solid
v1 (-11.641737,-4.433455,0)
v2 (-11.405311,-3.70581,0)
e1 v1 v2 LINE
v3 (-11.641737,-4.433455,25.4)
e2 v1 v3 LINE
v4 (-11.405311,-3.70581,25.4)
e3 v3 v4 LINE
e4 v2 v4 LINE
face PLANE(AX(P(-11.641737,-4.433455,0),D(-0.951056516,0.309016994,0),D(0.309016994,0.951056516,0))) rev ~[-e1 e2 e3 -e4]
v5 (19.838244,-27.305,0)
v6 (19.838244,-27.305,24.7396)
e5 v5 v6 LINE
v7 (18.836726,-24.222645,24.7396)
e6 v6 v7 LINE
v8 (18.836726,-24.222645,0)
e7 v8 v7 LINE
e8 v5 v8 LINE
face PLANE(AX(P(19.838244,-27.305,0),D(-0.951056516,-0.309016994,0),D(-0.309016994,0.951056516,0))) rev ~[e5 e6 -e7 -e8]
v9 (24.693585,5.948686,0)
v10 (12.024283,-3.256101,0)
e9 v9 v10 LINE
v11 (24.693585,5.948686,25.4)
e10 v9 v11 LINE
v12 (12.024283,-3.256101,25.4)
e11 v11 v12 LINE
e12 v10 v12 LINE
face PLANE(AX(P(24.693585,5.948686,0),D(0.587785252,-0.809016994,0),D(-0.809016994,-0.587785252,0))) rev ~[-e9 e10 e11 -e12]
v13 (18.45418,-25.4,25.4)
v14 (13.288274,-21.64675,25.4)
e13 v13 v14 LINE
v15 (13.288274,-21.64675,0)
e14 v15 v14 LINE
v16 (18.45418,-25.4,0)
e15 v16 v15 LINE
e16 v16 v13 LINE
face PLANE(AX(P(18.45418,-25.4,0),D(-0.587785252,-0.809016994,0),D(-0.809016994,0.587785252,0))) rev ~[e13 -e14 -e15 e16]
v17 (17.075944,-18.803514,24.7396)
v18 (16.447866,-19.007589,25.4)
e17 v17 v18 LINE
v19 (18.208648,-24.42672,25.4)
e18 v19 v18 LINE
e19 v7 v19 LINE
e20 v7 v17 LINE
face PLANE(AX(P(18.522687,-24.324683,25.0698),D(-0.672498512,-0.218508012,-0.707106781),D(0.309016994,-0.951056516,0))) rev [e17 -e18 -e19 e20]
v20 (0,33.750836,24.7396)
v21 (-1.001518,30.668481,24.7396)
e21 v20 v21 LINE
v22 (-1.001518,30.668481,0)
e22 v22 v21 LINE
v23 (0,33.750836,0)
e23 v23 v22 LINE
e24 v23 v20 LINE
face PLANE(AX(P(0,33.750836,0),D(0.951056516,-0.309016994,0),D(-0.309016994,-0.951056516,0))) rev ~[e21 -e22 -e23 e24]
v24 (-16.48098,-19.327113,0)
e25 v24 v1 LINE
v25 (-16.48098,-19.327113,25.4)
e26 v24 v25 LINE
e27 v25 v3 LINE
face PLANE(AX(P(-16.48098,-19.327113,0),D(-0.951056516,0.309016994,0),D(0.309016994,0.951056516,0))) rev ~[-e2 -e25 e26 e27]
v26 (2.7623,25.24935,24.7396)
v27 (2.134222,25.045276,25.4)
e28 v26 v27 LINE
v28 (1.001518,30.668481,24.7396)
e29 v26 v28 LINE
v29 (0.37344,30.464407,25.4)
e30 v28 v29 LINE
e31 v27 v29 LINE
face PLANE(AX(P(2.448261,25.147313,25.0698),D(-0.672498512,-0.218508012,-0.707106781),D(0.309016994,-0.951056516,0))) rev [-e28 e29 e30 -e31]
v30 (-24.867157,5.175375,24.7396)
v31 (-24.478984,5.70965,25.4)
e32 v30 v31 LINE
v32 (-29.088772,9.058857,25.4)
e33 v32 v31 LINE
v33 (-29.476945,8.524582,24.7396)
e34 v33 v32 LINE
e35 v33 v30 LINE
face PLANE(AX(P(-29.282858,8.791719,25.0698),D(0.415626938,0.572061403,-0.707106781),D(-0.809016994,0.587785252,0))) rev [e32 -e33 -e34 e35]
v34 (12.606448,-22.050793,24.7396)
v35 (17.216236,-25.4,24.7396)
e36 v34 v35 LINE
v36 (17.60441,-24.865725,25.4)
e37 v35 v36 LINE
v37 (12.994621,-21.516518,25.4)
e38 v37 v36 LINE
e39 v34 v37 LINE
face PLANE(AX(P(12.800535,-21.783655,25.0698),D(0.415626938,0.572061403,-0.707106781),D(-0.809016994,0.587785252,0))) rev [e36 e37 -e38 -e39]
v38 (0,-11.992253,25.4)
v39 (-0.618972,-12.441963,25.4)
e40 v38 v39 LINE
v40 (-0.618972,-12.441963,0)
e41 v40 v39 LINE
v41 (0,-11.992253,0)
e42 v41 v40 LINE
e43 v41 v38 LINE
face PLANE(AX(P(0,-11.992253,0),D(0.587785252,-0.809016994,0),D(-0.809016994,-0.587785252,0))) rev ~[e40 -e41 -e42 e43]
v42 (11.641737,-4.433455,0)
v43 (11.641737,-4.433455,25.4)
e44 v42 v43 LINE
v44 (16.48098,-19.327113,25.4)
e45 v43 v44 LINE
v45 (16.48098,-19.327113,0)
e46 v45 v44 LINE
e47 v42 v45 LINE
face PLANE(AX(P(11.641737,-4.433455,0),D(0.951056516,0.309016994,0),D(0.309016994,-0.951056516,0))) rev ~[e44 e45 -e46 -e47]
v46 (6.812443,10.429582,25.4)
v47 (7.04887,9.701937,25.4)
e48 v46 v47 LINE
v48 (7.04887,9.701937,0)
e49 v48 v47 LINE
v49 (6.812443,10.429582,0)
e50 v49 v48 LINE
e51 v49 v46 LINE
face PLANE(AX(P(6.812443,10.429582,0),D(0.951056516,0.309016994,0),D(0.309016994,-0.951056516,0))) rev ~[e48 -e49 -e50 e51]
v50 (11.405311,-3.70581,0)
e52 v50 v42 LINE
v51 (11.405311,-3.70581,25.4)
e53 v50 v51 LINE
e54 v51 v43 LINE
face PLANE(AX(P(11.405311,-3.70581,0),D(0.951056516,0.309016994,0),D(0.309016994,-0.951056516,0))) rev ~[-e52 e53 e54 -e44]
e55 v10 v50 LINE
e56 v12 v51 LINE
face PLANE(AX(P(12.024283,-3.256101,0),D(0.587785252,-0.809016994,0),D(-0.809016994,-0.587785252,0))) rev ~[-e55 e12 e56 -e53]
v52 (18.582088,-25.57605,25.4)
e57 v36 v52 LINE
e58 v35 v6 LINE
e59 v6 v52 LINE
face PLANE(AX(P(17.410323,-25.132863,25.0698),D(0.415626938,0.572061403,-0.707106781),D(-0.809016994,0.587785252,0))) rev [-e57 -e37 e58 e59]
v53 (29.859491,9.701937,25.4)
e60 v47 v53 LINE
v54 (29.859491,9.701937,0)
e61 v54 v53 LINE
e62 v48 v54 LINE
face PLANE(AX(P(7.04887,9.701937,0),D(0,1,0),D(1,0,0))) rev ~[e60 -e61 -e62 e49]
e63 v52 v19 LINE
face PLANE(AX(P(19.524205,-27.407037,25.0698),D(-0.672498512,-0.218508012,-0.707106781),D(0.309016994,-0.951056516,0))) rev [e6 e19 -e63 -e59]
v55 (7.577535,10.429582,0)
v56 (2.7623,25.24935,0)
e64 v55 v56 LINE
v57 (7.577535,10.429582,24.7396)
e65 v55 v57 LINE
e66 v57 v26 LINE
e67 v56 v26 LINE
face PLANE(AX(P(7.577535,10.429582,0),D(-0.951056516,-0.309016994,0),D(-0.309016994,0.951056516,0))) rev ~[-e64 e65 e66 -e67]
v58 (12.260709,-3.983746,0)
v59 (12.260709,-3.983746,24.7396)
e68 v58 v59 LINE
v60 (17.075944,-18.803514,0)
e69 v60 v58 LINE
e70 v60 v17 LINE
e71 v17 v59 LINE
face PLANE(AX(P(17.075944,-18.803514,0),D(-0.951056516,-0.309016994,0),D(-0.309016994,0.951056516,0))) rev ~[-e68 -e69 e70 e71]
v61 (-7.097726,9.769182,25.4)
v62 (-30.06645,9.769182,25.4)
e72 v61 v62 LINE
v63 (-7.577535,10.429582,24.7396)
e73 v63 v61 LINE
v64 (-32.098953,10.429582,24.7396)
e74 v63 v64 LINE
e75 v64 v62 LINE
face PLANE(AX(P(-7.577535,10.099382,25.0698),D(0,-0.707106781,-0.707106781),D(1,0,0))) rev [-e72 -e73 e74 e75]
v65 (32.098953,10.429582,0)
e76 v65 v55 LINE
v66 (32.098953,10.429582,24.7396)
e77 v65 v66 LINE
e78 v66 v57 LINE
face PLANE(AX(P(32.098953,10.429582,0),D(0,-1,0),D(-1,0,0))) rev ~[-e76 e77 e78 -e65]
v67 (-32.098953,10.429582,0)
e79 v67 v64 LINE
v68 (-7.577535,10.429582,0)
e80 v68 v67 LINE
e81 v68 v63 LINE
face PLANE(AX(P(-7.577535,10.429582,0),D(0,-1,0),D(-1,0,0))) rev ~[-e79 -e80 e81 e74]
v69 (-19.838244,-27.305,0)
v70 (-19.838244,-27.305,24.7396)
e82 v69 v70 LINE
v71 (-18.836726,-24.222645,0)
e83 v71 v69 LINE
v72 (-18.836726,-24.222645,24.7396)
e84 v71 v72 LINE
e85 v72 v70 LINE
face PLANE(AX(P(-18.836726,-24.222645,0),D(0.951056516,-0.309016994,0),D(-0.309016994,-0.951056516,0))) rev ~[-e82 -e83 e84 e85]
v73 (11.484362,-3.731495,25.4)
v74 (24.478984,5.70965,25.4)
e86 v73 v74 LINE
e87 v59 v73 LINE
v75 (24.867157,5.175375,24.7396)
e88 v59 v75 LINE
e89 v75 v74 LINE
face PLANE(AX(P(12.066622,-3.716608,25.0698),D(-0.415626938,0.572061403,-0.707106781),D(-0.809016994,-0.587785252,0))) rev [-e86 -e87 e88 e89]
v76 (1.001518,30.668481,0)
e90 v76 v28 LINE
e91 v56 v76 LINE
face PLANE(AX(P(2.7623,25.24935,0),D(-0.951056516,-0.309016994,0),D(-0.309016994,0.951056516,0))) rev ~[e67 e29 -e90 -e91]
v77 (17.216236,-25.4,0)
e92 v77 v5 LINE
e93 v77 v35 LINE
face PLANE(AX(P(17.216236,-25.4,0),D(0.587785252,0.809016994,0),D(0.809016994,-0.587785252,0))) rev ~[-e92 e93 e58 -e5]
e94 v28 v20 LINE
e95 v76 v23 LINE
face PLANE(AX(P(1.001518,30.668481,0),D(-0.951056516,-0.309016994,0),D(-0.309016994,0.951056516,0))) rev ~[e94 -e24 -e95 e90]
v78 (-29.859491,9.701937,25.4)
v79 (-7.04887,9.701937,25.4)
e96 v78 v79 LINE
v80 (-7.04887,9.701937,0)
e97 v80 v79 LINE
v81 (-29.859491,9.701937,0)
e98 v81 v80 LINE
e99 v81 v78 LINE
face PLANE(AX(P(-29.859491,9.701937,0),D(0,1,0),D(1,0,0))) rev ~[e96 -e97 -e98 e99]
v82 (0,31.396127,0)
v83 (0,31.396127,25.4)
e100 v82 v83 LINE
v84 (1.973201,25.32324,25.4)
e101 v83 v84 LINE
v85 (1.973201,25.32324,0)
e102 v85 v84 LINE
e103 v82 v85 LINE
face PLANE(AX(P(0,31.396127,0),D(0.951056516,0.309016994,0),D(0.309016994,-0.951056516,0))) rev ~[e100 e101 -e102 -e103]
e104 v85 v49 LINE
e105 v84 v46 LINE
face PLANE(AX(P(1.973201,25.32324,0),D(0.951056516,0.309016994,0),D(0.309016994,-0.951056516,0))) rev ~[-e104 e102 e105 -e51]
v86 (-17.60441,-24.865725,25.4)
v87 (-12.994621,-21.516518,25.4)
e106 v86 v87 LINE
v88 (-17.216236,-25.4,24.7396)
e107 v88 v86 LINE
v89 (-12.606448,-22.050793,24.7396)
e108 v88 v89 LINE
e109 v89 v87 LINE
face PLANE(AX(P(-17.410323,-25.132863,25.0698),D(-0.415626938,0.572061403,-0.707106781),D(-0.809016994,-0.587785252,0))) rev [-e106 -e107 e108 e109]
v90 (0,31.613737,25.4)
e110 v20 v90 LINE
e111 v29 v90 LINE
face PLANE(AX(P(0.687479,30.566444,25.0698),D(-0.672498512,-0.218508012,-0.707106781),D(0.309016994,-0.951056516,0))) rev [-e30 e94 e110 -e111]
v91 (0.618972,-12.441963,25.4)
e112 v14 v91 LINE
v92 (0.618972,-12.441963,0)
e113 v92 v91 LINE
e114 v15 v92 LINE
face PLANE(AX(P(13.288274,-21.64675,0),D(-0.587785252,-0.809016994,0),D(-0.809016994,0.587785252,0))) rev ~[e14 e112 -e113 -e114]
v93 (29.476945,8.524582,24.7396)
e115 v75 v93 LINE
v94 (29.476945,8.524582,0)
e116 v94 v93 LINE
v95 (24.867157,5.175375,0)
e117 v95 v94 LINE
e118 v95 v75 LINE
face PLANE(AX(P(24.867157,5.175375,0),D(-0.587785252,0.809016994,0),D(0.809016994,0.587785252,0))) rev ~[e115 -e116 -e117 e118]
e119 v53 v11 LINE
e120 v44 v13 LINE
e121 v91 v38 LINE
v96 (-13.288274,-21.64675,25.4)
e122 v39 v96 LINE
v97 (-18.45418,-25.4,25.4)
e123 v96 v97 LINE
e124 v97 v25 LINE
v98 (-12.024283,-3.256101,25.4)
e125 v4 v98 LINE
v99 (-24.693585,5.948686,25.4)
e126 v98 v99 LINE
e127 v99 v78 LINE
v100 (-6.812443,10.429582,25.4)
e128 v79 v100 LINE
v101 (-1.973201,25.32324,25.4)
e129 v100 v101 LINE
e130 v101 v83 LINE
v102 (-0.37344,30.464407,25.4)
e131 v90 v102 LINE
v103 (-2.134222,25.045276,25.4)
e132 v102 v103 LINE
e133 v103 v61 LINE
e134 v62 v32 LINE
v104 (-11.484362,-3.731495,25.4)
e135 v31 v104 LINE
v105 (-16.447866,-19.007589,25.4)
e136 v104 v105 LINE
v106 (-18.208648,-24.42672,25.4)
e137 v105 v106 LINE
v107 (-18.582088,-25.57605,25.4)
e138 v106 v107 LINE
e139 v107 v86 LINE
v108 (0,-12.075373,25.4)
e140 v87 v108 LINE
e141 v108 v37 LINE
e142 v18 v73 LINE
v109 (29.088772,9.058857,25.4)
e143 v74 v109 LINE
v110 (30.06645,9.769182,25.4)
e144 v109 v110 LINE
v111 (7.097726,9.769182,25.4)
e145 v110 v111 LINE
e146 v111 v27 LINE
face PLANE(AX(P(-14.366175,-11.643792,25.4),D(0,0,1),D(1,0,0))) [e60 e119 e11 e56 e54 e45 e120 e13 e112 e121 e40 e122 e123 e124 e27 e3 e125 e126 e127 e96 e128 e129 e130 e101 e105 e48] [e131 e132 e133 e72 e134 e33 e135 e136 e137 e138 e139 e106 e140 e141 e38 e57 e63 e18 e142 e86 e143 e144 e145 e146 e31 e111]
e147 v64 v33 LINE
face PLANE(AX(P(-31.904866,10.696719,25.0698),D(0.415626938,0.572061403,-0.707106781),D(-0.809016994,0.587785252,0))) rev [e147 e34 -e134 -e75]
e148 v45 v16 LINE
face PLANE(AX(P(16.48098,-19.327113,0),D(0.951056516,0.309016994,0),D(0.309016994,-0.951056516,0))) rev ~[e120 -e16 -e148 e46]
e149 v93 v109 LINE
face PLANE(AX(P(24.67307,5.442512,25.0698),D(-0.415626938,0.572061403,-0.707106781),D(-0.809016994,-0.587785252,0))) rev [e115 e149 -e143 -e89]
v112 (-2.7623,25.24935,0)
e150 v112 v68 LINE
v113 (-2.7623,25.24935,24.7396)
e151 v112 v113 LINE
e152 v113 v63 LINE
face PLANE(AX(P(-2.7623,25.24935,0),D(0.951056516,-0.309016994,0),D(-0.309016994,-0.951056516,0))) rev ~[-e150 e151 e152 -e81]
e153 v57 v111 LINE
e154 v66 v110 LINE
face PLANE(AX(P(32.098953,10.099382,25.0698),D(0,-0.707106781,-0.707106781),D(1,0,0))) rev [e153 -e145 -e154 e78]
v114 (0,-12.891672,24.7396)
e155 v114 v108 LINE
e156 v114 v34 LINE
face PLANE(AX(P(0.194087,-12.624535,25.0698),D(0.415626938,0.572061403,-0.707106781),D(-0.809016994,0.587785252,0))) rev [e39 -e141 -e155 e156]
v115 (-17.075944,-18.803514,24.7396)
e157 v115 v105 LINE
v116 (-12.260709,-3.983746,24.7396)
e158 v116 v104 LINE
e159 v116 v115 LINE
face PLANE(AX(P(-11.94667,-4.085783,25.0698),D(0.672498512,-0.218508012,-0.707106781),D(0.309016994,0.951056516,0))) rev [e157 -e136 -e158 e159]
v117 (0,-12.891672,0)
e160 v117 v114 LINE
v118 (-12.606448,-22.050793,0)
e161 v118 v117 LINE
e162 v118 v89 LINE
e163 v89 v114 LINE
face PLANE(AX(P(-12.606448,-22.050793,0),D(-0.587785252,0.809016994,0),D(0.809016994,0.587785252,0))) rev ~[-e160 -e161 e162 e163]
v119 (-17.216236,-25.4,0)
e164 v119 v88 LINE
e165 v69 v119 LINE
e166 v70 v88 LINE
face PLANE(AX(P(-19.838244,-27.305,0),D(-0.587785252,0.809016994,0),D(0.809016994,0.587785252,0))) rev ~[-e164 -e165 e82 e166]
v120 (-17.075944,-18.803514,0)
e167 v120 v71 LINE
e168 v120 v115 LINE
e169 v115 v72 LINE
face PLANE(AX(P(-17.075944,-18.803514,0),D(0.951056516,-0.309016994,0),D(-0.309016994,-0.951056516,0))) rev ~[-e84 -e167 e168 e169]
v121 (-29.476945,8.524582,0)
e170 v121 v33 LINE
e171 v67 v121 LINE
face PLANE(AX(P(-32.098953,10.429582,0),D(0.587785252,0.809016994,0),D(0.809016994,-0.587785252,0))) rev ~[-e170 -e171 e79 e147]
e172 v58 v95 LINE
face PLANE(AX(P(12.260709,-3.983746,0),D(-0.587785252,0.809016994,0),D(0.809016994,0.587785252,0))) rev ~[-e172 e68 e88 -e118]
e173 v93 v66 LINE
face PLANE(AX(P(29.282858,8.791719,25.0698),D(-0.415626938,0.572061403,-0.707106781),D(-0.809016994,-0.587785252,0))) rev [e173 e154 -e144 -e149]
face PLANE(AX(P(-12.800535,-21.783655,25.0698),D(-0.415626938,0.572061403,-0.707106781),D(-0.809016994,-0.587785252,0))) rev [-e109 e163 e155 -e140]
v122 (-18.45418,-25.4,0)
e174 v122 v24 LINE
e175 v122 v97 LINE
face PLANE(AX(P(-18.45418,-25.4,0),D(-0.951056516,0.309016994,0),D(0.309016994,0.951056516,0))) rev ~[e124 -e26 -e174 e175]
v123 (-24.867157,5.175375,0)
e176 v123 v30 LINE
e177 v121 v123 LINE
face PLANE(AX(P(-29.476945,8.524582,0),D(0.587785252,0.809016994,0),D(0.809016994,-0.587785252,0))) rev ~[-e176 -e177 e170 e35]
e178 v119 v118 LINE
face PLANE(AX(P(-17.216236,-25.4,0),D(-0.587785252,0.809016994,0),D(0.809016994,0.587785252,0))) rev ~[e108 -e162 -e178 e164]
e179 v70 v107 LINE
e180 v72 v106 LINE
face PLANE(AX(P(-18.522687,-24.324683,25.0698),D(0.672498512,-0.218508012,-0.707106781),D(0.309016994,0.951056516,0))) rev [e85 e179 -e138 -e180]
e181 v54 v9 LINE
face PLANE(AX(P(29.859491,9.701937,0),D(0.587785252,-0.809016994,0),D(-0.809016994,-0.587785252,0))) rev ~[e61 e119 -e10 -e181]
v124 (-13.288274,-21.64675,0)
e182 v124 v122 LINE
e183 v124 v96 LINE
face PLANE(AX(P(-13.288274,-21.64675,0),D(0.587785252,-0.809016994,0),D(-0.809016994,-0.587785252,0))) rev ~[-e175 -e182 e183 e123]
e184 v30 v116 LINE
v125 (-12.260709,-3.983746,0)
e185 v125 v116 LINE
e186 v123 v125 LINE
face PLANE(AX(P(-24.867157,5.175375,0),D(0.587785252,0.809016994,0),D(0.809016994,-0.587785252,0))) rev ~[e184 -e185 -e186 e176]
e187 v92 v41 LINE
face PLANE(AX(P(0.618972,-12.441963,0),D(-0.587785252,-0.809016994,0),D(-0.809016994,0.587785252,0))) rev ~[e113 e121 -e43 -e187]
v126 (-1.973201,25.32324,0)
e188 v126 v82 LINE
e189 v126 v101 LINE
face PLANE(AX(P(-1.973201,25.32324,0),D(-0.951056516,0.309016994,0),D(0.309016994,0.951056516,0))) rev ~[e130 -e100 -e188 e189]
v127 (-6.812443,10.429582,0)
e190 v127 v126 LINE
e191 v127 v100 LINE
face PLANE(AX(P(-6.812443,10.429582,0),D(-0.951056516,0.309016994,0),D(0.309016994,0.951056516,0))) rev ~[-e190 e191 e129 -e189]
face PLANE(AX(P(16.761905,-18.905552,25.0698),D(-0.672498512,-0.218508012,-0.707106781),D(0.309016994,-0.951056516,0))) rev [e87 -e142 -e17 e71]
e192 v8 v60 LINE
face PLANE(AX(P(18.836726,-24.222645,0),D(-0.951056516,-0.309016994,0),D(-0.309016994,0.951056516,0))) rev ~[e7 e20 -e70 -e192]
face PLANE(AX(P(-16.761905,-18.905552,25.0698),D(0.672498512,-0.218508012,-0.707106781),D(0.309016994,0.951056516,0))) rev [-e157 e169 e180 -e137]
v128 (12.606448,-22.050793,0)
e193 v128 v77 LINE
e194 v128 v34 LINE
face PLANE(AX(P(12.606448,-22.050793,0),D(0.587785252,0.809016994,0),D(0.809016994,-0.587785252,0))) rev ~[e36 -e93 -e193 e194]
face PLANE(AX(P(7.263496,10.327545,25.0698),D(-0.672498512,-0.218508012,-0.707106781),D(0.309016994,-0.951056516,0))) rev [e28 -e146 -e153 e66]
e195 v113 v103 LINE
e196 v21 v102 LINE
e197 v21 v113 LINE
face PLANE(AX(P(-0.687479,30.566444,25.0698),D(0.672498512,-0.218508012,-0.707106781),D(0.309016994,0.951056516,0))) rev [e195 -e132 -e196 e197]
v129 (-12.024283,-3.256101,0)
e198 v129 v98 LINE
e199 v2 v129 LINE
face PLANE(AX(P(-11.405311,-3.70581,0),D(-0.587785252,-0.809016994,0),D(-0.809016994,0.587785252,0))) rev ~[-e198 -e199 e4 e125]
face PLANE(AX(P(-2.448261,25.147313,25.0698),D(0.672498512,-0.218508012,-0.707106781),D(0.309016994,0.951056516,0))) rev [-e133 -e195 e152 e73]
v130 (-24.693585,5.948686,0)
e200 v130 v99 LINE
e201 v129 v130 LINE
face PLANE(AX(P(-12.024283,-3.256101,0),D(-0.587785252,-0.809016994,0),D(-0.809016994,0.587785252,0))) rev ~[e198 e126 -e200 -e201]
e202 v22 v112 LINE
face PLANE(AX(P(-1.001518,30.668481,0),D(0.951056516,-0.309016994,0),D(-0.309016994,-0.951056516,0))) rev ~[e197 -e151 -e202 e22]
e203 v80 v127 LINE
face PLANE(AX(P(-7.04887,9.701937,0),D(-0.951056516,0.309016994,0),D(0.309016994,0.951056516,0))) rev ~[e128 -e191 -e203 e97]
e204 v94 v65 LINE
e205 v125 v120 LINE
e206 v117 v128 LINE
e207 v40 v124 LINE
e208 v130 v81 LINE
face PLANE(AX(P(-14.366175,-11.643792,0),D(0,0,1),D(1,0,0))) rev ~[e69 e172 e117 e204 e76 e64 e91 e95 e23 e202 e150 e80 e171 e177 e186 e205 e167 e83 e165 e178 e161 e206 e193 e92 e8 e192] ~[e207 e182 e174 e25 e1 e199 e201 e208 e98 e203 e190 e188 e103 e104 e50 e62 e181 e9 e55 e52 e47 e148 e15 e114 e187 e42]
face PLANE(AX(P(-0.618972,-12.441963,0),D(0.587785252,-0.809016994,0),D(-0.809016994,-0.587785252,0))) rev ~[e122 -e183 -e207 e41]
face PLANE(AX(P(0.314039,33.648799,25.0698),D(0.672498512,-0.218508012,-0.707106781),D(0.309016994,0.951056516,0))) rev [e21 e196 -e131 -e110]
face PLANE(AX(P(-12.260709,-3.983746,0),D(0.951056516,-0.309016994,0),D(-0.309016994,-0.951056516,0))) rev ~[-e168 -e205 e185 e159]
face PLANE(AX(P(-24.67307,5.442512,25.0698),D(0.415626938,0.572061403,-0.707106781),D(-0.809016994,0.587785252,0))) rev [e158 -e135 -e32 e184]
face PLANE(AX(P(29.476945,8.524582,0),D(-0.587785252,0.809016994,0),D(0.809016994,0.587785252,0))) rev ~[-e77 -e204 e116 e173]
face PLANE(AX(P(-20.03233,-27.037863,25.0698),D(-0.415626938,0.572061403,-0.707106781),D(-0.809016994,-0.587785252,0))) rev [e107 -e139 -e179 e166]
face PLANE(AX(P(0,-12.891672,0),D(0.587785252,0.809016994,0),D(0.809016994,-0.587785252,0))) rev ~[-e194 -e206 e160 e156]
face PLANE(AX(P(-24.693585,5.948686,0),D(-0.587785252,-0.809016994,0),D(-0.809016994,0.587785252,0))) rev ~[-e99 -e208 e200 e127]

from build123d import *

# Parameters (mm, degrees)
F1_DEPTH = 25.4
F2_SIZE  = 0.6604


with BuildPart() as f1:
    # F0 (on Top) → F1 (new body)
    with BuildSketch(Plane.XY):
        with BuildLine():
            Line((-12.2607089005, -3.9837458116), (-17.0759435824, -18.8035143197))
            ThreePointArc((-17.0759435824, -18.8035143197), (-16.7805039882, -19.0676345125), (-16.4809797049, -19.3271132859))
            Line((-16.4809797049, -19.3271132859), (-11.6417368792, -4.4334553087))
            Line((-11.6417368792, -4.4334553087), (-12.2607089005, -3.9837458116))
        make_face()
        with BuildLine():
            Line((-12.2607089005, -3.9837458116), (-12.0242826264, -3.2561005601))
            Line((-12.0242826264, -3.2561005601), (-24.6935848241, 5.9486862866))
            ThreePointArc((-24.6935848241, 5.9486862866), (-24.7833872632, 5.5627075929), (-24.8671569615, 5.1753748319))
            Line((-24.8671569615, 5.1753748319), (-12.2607089005, -3.9837458116))
        make_face()
        with BuildLine():
            Line((-12.606448061, -22.0507928947), (0, -12.8916722513))
            Line((0, -12.8916722513), (-0.6189720213, -12.4419627541))
            Line((-0.6189720213, -12.4419627541), (-13.2882742189, -21.6467496009))
            ThreePointArc((-13.2882742189, -21.6467496009), (-12.9489371469, -21.8514307716), (-12.606448061, -22.0507928947))
        make_face()
        with BuildLine():
            Line((-17.0759435824, -18.8035143197), (-18.8367259586, -24.2226452514))
            Line((-18.8367259586, -24.2226452514), (-18.4541802113, -25.4))
            Line((-18.4541802113, -25.4), (-16.4809797049, -19.3271132859))
            ThreePointArc((-16.4809797049, -19.3271132859), (-16.7805039882, -19.0676345125), (-17.0759435824, -18.8035143197))
        make_face()
        with BuildLine():
            Line((-18.4541802113, -25.4), (-17.2162361687, -25.4))
            Line((-17.2162361687, -25.4), (-12.606448061, -22.0507928947))
            ThreePointArc((-12.606448061, -22.0507928947), (-12.9489371469, -21.8514307716), (-13.2882742189, -21.6467496009))
            Line((-13.2882742189, -21.6467496009), (-18.4541802113, -25.4))
        make_face()
        Polygon((-18.8367259586, -24.2226452514), (-19.8382437272, -27.305), (-17.2162361687, -25.4), (-18.4541802113, -25.4), align=None)
        with BuildLine():
            ThreePointArc((-1.9732005064, 25.3232399144), (-2.3680385381, 25.2893731334), (-2.7623001448, 25.2493504453))
            Line((-2.7623001448, 25.2493504453), (-7.5775348267, 10.4295819372))
            Line((-7.5775348267, 10.4295819372), (-6.8124433322, 10.4295819372))
            Line((-6.8124433322, 10.4295819372), (-1.9732005064, 25.3232399144))
        make_face()
        with BuildLine():
            Line((6.8124433322, 10.4295819372), (7.5775348267, 10.4295819372))
            Line((7.5775348267, 10.4295819372), (2.7623001448, 25.2493504453))
            ThreePointArc((2.7623001448, 25.2493504453), (2.3680385381, 25.2893731334), (1.9732005064, 25.3232399144))
            Line((1.9732005064, 25.3232399144), (6.8124433322, 10.4295819372))
        make_face()
        with BuildLine():
            Line((12.2607089005, -3.9837458116), (24.8671569615, 5.1753748319))
            ThreePointArc((24.8671569615, 5.1753748319), (24.7833872632, 5.5627075929), (24.6935848241, 5.9486862866))
            Line((24.6935848241, 5.9486862866), (12.0242826264, -3.2561005601))
            Line((12.0242826264, -3.2561005601), (12.2607089005, -3.9837458116))
        make_face()
        with BuildLine():
            Line((17.0759435824, -18.8035143197), (12.2607089005, -3.9837458116))
            Line((12.2607089005, -3.9837458116), (11.6417368792, -4.4334553087))
            Line((11.6417368792, -4.4334553087), (16.4809797049, -19.3271132859))
            ThreePointArc((16.4809797049, -19.3271132859), (16.7805039882, -19.0676345125), (17.0759435824, -18.8035143197))
        make_face()
        Polygon((11.6417368792, -4.4334553087), (12.2607089005, -3.9837458116), (12.0242826264, -3.2561005601), (11.4053106051, -3.7058100573), align=None)
        with BuildLine():
            ThreePointArc((24.6935848241, 5.9486862866), (24.7833872632, 5.5627075929), (24.8671569615, 5.1753748319))
            Line((24.8671569615, 5.1753748319), (29.4769450692, 8.5245819372))
            Line((29.4769450692, 8.5245819372), (29.8594908165, 9.7019366858))
            Line((29.8594908165, 9.7019366858), (24.6935848241, 5.9486862866))
        make_face()
        Polygon((29.8594908165, 9.7019366858), (29.4769450692, 8.5245819372), (32.0989526277, 10.4295819372), (28.8579730479, 10.4295819372), align=None)
        with BuildLine():
            ThreePointArc((23.1599615849, 10.4295819372), (23.31985896, 10.0669845578), (23.4740798445, 9.7019366858))
            Line((23.4740798445, 9.7019366858), (29.8594908165, 9.7019366858))
            Line((29.8594908165, 9.7019366858), (28.8579730479, 10.4295819372))
            Line((28.8579730479, 10.4295819372), (23.1599615849, 10.4295819372))
        make_face()
        with BuildLine():
            Line((7.8139611007, 9.7019366858), (23.4740798445, 9.7019366858))
            ThreePointArc((23.4740798445, 9.7019366858), (23.31985896, 10.0669845578), (23.1599615849, 10.4295819372))
            Line((23.1599615849, 10.4295819372), (7.5775348267, 10.4295819372))
            Line((7.5775348267, 10.4295819372), (7.8139611007, 9.7019366858))
        make_face()
        Polygon((7.0488696062, 9.7019366858), (7.8139611007, 9.7019366858), (7.5775348267, 10.4295819372), (6.8124433322, 10.4295819372), align=None)
        with BuildLine():
            Line((-23.4740798445, 9.7019366858), (-7.8139611007, 9.7019366858))
            Line((-7.8139611007, 9.7019366858), (-7.5775348267, 10.4295819372))
            Line((-7.5775348267, 10.4295819372), (-23.1599615849, 10.4295819372))
            ThreePointArc((-23.1599615849, 10.4295819372), (-23.31985896, 10.0669845578), (-23.4740798445, 9.7019366858))
        make_face()
        with BuildLine():
            Line((-23.1599615849, 10.4295819372), (-28.8579730479, 10.4295819372))
            Line((-28.8579730479, 10.4295819372), (-29.8594908165, 9.7019366858))
            Line((-29.8594908165, 9.7019366858), (-23.4740798445, 9.7019366858))
            ThreePointArc((-23.4740798445, 9.7019366858), (-23.31985896, 10.0669845578), (-23.1599615849, 10.4295819372))
        make_face()
        Polygon((-28.8579730479, 10.4295819372), (-32.0989526277, 10.4295819372), (-29.4769450692, 8.5245819372), (-29.8594908165, 9.7019366858), align=None)
        with BuildLine():
            Line((-29.8594908165, 9.7019366858), (-29.4769450692, 8.5245819372))
            Line((-29.4769450692, 8.5245819372), (-24.8671569615, 5.1753748319))
            ThreePointArc((-24.8671569615, 5.1753748319), (-24.7833872632, 5.5627075929), (-24.6935848241, 5.9486862866))
            Line((-24.6935848241, 5.9486862866), (-29.8594908165, 9.7019366858))
        make_face()
        Polygon((-7.8139611007, 9.7019366858), (-7.0488696062, 9.7019366858), (-6.8124433322, 10.4295819372), (-7.5775348267, 10.4295819372), align=None)
        Polygon((0, -12.8916722513), (0.6189720213, -12.4419627541), (0, -11.992253257), (-0.6189720213, -12.4419627541), align=None)
        with BuildLine():
            Line((13.2882742189, -21.6467496009), (0.6189720213, -12.4419627541))
            Line((0.6189720213, -12.4419627541), (0, -12.8916722513))
            Line((0, -12.8916722513), (12.606448061, -22.0507928947))
            ThreePointArc((12.606448061, -22.0507928947), (12.9489371469, -21.8514307716), (13.2882742189, -21.6467496009))
        make_face()
        with BuildLine():
            Line((17.2162361687, -25.4), (18.4541802113, -25.4))
            Line((18.4541802113, -25.4), (13.2882742189, -21.6467496009))
            ThreePointArc((13.2882742189, -21.6467496009), (12.9489371469, -21.8514307716), (12.606448061, -22.0507928947))
            Line((12.606448061, -22.0507928947), (17.2162361687, -25.4))
        make_face()
        with BuildLine():
            Line((18.8367259586, -24.2226452514), (17.0759435824, -18.8035143197))
            ThreePointArc((17.0759435824, -18.8035143197), (16.7805039882, -19.0676345125), (16.4809797049, -19.3271132859))
            Line((16.4809797049, -19.3271132859), (18.4541802113, -25.4))
            Line((18.4541802113, -25.4), (18.8367259586, -24.2226452514))
        make_face()
        Polygon((19.8382437272, -27.305), (18.8367259586, -24.2226452514), (18.4541802113, -25.4), (17.2162361687, -25.4), align=None)
        with BuildLine():
            Line((0, 31.3961266285), (-1.0015177686, 30.6684813771))
            Line((-1.0015177686, 30.6684813771), (-2.7623001448, 25.2493504453))
            ThreePointArc((-2.7623001448, 25.2493504453), (-2.3680385381, 25.2893731334), (-1.9732005064, 25.3232399144))
            Line((-1.9732005064, 25.3232399144), (0, 31.3961266285))
        make_face()
        with BuildLine():
            Line((2.7623001448, 25.2493504453), (1.0015177686, 30.6684813771))
            Line((1.0015177686, 30.6684813771), (0, 31.3961266285))
            Line((0, 31.3961266285), (1.9732005064, 25.3232399144))
            ThreePointArc((1.9732005064, 25.3232399144), (2.3680385381, 25.2893731334), (2.7623001448, 25.2493504453))
        make_face()
        Polygon((1.0015177686, 30.6684813771), (0, 33.7508361256), (-1.0015177686, 30.6684813771), (0, 31.3961266285), align=None)
        Polygon((-11.6417368792, -4.4334553087), (-11.4053106051, -3.7058100573), (-12.0242826264, -3.2561005601), (-12.2607089005, -3.9837458116), align=None)
    extrude(amount=F1_DEPTH)

    # F2
    f2_edges = [f1.edges().sort_by_distance(p)[0] for p in [
        (-19.838244, 10.429582, 25.4),
        (-22.179831, 3.222918, 25.4),
        (-16.049476, -15.644373, 25.4),
        (-9.919122, -20.098336, 25.4),
        (9.919122, -20.098336, 25.4),
        (16.049476, -15.644373, 25.4),
        (22.179831, 3.222918, 25.4),
        (19.838244, 10.429582, 25.4),
        (3.788767, 22.090209, 25.4),
        (-3.788767, 22.090209, 25.4),
    ]]
    chamfer(f2_edges, length=F2_SIZE)


solid = f1.part
